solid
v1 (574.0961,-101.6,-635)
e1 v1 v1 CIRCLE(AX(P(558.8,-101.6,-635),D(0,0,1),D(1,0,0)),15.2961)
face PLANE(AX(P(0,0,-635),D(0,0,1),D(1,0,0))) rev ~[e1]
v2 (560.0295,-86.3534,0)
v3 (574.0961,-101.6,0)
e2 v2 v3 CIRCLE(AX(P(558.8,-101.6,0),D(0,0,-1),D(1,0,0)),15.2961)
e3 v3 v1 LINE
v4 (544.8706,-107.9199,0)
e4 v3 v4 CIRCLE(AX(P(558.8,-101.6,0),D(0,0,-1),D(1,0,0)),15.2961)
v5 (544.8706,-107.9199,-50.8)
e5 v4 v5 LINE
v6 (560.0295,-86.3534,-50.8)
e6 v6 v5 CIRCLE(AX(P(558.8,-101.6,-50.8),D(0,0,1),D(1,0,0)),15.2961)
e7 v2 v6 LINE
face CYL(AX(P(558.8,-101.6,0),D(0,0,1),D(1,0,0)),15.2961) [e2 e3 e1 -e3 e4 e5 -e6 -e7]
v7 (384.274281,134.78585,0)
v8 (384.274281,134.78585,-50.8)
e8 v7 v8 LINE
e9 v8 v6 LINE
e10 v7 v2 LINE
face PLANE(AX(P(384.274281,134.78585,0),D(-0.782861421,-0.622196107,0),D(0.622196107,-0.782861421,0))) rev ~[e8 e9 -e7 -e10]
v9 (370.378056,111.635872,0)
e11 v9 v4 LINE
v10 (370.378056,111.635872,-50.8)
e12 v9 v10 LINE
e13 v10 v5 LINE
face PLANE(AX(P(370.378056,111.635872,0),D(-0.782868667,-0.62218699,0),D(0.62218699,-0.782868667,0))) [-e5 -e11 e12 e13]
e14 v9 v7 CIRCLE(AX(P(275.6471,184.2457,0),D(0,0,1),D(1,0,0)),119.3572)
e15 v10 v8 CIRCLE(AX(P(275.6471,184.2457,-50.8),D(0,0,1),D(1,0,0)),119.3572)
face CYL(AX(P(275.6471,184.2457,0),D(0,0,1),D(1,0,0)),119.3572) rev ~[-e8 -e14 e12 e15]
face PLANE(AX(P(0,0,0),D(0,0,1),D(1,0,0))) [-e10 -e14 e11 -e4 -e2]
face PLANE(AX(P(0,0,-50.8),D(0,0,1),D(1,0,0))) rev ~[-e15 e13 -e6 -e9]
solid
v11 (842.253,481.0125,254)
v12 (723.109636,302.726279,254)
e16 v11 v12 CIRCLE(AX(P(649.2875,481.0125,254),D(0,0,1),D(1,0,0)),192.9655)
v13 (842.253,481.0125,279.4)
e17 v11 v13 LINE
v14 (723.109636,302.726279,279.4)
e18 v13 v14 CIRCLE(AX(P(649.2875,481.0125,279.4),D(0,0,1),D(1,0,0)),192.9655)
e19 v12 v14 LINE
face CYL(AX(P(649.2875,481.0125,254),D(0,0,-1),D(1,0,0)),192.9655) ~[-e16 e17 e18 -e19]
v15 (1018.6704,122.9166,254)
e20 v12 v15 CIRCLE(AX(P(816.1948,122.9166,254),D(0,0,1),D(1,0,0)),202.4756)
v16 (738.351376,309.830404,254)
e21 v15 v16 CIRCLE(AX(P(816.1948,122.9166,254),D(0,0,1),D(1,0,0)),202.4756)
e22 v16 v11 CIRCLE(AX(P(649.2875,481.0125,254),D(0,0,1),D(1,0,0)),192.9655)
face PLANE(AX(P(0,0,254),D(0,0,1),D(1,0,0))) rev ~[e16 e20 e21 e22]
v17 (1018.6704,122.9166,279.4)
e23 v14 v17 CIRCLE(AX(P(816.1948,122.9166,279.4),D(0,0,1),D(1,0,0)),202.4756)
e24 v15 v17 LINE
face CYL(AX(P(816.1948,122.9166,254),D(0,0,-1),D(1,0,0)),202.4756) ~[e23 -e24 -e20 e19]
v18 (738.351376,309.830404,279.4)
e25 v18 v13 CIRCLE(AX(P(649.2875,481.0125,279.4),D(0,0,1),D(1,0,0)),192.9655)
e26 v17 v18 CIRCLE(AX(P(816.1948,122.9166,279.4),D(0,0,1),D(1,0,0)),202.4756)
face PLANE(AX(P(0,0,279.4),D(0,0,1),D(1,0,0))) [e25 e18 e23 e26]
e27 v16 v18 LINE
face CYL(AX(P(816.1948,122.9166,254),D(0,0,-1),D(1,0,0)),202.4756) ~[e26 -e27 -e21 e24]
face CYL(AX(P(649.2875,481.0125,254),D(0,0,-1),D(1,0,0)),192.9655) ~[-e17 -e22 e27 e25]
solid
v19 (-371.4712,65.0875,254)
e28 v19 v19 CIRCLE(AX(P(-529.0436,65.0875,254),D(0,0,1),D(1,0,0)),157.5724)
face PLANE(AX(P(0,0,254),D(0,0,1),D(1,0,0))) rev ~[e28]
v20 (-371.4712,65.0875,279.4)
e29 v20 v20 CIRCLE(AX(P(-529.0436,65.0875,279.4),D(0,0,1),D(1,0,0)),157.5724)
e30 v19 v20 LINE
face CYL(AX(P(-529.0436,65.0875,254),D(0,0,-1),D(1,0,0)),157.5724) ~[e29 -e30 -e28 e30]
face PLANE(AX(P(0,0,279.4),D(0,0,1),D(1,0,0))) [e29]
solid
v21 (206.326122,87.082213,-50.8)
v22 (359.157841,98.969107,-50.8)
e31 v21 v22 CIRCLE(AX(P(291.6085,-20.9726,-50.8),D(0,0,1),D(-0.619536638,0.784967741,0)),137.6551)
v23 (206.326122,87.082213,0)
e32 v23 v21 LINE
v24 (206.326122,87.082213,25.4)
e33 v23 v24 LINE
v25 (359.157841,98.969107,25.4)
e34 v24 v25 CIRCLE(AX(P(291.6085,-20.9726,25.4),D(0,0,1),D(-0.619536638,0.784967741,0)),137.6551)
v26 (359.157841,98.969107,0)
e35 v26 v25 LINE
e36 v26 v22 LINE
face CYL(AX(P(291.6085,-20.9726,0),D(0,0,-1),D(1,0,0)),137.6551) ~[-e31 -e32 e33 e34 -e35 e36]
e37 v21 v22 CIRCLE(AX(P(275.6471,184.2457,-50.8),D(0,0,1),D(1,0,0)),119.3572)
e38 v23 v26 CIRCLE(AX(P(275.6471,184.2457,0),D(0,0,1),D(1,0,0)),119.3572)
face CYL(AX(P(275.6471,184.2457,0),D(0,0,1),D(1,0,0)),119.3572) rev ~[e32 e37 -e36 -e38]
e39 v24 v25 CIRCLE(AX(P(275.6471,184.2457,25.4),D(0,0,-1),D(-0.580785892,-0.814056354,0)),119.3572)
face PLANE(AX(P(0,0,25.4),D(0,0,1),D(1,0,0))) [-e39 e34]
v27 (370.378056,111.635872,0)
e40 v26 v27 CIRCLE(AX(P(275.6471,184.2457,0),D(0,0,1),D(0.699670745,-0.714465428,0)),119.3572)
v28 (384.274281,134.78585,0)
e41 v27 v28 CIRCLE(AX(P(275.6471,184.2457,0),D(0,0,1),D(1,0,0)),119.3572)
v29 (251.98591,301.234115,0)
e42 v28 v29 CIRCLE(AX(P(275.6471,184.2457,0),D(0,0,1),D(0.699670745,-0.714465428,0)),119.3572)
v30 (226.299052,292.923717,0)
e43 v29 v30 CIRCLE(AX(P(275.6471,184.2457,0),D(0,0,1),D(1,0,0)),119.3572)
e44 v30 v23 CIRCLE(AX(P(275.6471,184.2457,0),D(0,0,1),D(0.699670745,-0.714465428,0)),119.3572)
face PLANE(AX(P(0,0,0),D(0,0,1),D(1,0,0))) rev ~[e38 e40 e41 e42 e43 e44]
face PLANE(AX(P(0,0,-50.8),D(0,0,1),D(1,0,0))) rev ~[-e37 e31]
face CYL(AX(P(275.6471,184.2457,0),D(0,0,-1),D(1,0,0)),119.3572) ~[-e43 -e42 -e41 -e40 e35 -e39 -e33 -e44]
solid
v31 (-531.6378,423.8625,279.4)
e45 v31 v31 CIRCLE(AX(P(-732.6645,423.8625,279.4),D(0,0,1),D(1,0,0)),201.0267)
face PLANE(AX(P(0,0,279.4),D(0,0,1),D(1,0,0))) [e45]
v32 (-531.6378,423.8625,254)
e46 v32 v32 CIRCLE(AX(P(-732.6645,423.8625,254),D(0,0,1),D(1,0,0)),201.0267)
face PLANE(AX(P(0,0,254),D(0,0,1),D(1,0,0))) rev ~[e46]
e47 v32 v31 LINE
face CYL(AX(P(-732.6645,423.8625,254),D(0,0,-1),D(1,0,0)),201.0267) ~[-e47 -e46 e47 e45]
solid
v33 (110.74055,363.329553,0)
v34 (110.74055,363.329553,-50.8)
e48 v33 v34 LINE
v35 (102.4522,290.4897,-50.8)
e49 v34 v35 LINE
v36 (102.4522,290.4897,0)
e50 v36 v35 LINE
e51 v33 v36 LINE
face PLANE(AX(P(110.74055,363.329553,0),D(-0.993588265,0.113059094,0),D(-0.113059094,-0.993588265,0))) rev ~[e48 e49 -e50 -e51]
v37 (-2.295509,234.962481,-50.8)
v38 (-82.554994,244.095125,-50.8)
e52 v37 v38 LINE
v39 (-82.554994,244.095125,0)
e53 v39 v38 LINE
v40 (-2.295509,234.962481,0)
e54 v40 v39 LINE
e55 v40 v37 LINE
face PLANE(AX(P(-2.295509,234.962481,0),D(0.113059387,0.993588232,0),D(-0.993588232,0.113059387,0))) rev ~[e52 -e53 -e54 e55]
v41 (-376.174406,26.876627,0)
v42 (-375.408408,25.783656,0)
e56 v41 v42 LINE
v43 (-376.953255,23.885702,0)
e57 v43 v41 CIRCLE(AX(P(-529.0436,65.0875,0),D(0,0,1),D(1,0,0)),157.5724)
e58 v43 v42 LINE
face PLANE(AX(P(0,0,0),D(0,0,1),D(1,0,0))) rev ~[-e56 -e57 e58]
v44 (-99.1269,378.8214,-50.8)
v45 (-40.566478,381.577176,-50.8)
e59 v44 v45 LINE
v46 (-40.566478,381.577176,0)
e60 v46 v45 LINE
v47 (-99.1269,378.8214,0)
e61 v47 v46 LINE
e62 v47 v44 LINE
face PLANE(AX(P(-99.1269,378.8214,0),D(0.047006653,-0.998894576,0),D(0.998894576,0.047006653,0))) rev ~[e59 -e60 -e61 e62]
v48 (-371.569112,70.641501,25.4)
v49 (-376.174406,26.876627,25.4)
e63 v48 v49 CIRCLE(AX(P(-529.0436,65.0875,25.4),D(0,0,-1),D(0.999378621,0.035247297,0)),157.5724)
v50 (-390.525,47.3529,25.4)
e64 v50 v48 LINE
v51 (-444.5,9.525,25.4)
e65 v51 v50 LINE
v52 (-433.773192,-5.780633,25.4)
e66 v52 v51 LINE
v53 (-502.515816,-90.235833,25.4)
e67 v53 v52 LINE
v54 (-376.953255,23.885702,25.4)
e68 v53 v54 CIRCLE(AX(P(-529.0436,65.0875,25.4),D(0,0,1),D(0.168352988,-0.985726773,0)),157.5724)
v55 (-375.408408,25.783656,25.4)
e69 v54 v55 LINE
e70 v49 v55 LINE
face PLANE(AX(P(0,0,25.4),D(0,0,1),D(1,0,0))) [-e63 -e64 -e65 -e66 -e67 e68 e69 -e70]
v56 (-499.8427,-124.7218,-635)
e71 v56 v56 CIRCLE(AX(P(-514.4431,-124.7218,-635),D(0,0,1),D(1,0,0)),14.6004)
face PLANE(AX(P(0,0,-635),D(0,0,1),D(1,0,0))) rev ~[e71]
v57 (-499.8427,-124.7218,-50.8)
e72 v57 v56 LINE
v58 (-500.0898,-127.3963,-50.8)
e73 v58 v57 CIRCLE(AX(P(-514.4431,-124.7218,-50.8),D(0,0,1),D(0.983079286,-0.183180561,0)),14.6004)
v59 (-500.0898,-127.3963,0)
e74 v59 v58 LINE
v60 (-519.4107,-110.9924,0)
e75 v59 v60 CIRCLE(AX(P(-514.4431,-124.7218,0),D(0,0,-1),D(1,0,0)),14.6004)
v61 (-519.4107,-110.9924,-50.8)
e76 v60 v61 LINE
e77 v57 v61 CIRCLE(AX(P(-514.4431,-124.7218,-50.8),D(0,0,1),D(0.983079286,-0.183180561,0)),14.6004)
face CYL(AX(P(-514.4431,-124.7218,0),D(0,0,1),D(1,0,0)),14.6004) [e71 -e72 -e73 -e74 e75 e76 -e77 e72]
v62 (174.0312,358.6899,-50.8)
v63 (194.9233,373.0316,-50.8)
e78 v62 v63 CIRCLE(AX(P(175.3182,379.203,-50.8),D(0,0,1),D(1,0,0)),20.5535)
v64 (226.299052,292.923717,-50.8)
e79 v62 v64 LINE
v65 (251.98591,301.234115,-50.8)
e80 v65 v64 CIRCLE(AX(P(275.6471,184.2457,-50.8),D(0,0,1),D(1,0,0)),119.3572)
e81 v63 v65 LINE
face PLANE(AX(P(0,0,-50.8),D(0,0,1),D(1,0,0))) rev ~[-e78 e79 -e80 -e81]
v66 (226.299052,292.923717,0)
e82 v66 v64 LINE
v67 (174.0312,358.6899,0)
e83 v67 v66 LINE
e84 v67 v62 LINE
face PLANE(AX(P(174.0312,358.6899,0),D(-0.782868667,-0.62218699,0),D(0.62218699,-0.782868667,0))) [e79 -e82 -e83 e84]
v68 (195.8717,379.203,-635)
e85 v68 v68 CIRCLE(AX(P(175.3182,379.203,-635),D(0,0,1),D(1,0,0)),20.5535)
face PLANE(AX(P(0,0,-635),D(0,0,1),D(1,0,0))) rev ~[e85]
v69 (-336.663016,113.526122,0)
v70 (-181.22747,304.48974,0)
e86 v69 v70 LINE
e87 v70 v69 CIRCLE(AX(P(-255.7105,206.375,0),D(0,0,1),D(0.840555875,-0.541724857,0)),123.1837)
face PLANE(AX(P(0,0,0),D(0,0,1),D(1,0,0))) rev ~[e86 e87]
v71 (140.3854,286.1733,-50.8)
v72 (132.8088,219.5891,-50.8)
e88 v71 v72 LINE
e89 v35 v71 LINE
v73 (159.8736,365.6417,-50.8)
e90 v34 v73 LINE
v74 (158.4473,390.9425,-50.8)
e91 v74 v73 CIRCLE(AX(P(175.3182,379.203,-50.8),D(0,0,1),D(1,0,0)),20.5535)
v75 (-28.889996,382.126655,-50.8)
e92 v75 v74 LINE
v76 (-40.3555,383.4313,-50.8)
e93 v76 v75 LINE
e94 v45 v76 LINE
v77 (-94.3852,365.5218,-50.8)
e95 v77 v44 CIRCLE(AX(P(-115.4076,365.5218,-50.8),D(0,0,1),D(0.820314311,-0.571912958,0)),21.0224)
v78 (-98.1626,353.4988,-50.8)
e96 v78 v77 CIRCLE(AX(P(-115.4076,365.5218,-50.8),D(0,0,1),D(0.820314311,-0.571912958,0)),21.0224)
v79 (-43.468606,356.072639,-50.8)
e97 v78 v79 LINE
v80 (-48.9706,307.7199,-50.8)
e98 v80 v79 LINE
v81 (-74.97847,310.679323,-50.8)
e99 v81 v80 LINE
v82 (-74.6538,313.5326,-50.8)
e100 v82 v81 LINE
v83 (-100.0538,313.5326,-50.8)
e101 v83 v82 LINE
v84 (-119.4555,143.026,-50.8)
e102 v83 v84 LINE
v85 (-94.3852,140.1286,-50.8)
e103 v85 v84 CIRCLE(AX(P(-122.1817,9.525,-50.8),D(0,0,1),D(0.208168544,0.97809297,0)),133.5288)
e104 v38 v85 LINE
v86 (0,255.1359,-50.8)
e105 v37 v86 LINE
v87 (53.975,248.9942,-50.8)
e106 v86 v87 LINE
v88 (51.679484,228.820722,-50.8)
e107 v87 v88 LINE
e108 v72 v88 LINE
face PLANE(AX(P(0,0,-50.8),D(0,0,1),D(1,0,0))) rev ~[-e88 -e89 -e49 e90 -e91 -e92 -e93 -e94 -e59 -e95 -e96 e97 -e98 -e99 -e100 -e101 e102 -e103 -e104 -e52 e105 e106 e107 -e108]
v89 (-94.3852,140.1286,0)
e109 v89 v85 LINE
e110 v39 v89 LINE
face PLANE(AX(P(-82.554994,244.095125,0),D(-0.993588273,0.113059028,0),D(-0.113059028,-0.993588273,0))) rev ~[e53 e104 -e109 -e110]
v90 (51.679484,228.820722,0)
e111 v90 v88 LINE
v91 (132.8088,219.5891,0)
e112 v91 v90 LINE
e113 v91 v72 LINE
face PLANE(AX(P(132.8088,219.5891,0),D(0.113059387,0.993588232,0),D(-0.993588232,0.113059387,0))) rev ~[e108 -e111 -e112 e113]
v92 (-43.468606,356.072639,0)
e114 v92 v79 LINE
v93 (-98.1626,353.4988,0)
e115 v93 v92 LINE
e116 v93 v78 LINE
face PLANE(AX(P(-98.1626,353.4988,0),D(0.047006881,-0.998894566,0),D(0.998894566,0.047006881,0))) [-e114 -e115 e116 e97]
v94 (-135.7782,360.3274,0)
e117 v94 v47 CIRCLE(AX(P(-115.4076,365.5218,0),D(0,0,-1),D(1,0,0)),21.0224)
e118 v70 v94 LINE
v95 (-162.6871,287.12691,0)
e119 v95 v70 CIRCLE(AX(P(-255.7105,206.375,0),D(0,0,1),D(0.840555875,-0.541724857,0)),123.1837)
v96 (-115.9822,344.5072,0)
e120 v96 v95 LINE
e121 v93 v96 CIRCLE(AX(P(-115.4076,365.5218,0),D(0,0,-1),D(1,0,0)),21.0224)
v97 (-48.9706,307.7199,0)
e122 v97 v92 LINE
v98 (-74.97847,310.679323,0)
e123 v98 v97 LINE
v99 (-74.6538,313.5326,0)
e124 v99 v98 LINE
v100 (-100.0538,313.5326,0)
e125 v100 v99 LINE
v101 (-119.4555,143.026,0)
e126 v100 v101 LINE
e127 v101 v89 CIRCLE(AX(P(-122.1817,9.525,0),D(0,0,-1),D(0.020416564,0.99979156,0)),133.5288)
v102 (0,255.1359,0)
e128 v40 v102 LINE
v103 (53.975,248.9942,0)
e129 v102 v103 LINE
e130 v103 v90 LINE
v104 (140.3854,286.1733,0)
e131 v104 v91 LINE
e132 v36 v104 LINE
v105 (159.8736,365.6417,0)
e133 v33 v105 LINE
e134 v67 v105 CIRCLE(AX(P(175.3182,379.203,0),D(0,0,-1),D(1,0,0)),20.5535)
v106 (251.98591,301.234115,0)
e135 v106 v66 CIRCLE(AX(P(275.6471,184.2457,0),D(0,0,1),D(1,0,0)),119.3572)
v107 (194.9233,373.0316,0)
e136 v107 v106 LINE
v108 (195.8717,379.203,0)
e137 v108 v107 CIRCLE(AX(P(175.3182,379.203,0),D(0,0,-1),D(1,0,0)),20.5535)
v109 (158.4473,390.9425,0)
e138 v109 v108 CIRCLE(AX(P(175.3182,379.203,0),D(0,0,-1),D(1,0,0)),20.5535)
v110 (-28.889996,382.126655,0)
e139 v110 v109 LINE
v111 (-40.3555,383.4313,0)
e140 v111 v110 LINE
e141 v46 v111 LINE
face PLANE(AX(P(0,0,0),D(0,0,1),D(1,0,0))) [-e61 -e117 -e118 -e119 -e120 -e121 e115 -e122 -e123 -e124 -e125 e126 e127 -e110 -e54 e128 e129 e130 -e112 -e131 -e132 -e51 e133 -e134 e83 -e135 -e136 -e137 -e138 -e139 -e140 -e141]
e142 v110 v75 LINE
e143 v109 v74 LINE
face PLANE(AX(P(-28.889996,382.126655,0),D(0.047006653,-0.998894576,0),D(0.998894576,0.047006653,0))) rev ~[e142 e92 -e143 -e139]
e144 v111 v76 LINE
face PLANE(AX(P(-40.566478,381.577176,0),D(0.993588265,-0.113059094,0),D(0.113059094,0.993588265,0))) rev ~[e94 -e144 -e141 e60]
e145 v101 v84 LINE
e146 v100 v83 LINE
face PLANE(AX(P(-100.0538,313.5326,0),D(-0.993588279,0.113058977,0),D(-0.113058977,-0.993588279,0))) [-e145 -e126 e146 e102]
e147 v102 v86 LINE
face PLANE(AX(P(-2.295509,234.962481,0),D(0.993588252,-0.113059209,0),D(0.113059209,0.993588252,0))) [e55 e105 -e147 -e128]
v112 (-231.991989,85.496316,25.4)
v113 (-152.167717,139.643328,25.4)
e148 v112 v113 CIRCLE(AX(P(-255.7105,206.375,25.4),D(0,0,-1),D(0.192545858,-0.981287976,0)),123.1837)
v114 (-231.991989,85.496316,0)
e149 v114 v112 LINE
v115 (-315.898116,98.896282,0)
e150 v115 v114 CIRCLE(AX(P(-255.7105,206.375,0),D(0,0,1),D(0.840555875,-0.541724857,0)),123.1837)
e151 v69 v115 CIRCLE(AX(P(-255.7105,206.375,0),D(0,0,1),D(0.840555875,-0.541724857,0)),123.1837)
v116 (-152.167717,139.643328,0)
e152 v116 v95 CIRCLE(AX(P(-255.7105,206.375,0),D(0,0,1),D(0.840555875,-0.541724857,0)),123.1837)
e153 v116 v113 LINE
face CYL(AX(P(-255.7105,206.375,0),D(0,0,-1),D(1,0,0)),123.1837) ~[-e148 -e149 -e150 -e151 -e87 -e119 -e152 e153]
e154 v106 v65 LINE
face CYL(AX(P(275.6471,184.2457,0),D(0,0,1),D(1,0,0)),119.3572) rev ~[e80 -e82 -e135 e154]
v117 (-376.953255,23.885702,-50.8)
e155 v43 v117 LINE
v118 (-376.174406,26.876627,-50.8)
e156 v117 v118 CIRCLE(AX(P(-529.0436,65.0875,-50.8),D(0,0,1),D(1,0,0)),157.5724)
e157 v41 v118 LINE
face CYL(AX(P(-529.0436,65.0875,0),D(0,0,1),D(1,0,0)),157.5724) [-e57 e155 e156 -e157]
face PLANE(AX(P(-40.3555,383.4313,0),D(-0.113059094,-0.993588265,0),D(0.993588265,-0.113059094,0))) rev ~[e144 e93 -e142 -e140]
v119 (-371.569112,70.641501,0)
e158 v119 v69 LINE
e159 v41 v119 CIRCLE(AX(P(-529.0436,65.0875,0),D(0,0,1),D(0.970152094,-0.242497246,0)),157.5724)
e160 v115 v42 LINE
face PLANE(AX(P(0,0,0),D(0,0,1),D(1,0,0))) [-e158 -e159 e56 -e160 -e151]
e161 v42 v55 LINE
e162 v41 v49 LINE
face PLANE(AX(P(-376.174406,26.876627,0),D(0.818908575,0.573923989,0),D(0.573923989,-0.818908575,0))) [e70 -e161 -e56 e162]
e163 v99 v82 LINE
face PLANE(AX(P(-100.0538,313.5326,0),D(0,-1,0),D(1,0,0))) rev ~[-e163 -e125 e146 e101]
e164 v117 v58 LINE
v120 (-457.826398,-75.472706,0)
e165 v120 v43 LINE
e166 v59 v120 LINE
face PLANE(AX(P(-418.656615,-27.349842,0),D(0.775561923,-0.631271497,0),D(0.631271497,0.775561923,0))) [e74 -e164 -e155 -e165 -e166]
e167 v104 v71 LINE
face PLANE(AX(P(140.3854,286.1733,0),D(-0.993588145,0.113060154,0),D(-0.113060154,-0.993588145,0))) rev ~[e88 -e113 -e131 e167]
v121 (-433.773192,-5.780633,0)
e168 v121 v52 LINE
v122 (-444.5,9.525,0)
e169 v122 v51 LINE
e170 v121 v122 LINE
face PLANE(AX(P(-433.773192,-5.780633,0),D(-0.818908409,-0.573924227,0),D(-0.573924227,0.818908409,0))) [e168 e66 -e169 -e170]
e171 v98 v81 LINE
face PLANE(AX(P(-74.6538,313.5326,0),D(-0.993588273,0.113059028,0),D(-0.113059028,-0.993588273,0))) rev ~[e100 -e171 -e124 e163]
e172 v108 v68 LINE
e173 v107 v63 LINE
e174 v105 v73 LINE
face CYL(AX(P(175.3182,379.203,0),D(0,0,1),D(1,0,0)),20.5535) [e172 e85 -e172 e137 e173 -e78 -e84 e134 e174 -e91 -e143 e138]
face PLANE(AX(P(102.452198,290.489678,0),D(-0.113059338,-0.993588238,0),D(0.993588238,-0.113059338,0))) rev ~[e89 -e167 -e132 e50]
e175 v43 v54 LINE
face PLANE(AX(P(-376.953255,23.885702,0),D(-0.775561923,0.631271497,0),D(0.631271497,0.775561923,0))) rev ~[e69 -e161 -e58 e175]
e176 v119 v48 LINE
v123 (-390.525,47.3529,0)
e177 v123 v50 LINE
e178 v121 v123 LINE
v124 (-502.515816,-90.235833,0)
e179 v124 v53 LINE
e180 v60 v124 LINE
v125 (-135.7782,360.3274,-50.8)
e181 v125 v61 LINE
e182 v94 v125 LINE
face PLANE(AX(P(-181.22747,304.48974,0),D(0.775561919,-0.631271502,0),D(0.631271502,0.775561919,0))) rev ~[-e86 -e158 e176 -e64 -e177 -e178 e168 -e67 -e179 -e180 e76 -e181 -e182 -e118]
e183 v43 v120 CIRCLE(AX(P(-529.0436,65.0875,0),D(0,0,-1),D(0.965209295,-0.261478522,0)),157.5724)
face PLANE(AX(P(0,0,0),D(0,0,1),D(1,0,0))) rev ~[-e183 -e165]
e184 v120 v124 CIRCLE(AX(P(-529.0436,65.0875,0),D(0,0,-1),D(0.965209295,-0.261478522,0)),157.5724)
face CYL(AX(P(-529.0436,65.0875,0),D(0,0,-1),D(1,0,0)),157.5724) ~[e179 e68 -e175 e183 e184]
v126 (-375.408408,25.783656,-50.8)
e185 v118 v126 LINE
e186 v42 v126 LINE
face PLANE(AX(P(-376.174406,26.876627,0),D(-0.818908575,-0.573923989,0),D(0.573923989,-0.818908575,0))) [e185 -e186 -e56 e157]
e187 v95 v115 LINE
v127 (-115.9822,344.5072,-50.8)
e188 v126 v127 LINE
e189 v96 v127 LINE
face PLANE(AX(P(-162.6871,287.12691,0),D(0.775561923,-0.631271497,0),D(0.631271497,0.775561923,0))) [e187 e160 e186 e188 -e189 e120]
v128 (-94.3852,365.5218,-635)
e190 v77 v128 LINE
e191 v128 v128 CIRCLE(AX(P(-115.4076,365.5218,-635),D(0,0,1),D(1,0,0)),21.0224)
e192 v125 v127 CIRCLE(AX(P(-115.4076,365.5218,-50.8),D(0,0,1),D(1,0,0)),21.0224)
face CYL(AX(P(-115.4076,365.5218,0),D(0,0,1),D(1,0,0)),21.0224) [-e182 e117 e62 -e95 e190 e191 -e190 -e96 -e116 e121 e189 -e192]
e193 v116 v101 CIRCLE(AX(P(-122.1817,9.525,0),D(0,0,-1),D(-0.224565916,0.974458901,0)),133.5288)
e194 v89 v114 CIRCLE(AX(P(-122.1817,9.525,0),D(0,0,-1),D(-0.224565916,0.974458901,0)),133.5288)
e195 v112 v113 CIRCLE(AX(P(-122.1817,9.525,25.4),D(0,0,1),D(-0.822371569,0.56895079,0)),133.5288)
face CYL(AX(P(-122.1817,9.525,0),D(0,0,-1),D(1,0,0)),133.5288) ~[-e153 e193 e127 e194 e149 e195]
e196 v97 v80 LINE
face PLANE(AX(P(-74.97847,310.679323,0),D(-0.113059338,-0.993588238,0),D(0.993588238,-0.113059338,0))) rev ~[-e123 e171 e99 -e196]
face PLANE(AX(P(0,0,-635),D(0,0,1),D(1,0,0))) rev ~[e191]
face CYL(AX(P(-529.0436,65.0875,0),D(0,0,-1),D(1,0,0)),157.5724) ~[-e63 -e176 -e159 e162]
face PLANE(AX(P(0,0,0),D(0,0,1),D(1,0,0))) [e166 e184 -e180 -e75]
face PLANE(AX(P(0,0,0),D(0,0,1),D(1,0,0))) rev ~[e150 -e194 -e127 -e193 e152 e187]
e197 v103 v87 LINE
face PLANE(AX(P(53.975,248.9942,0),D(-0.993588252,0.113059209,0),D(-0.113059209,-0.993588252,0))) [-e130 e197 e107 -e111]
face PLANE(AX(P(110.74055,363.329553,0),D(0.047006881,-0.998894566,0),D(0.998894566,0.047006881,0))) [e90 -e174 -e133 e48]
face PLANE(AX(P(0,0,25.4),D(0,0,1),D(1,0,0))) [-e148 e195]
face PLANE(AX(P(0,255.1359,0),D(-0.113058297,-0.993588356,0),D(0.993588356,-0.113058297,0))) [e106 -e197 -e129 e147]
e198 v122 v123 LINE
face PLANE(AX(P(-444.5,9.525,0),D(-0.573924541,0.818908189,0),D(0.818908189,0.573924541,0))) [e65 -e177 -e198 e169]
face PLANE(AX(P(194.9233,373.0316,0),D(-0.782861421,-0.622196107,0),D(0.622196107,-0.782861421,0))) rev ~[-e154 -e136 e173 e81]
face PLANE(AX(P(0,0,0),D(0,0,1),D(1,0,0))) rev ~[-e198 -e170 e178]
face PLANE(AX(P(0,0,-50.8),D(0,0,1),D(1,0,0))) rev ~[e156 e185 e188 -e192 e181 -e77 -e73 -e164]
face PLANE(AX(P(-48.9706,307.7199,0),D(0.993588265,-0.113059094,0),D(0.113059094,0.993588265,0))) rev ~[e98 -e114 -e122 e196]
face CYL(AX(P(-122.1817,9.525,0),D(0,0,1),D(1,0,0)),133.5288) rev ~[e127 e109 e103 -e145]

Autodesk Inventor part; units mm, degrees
ref_plane "YZ Plane" through (0, 0, 0) normal (1, 0, 0) x (0, 1, 0)
ref_plane "XZ Plane" through (0, 0, 0) normal (0, 1, 0) x (-1, 0, 0)
sketch "Sketch1" plane through (0, 0, 0) normal (0, 0, 1) x (1, 0, 0)
  line L0 (-40.3555, 383.4313) -> (111.0673, 366.2011)
  line L1 (111.0673, 366.2011) -> (102.4522, 290.4897)
  line L2 (102.4522, 290.4897) -> (-48.9706, 307.7199)
  line L3 (-48.9706, 307.7199) -> (-40.3555, 383.4313)
  line L4 (-87.7484, 312.1324) -> (140.3854, 286.1733)
  line L5 (140.3854, 286.1733) -> (132.8088, 219.5891)
  line L6 (132.8088, 219.5891) -> (-95.3249, 245.5482)
  line L7 (-95.3249, 245.5482) -> (-87.7484, 312.1324)
  circle A0 centre (175.3182, 379.203) radius 20.5535
  circle A1 centre (-115.4076, 365.5218) radius 21.0224
  circle A2 centre (558.8, -101.6) radius 15.2961
  circle A3 centre (-514.4431, -124.7218) radius 14.6004
  line L8 (-128.6785, 349.2176) -> (-505.2263, -113.3983) construction
  line L9 (-94.4085, 366.51) -> (154.7875, 378.2368) construction
  line L10 (187.1074, 362.3667) -> (548.0677, -90.701) construction
  line L11 (-87.7484, 312.1324) -> (-107.085, 142.1977)
  circle A4 centre (-732.6645, 423.8625) radius 24.2389
  circle A5 centre (-732.6645, 423.8625) radius 201.0267
  circle A6 centre (649.2875, 481.0125) radius 192.9655
  circle A7 centre (816.1948, 122.9166) radius 202.4756
  circle A8 centre (-122.1817, 9.525) radius 133.5288
  circle A9 centre (-529.0436, 65.0875) radius 157.5724
  circle A10 centre (-255.7105, 206.375) radius 123.1837
  circle A11 centre (275.6471, 184.2457) radius 119.3572
  circle A12 centre (291.6085, -20.9726) radius 137.6551
  line L12 (-519.4107, -110.9924) -> (-135.7782, 360.3274)
  line L13 (-99.1269, 378.8214) -> (158.4473, 390.9425)
  line L14 (194.9233, 373.0316) -> (560.0295, -86.3534)
  line L15 (-500.0898, -127.3963) -> (-115.9822, 344.5072)
  line L16 (-98.1626, 353.4988) -> (159.8736, 365.6417)
  line L17 (174.0312, 358.6899) -> (544.8706, -107.9199)
  line L18 (-74.6538, 313.5326) -> (-94.3852, 140.1286)
  line L19 (-100.0538, 313.5326) -> (-119.4555, 143.026)
  line L20 (-100.0538, 313.5326) -> (-74.6538, 313.5326)
  line L21 (0, 255.1359) -> (53.975, 248.9942)
  line L22 (53.975, 248.9942) -> (36.2304, 93.0509)
  line L23 (36.2304, 93.0509) -> (-17.7446, 99.1926)
  line L24 (-17.7446, 99.1926) -> (0, 255.1359)
  line L25 (-444.5, 9.525) -> (-390.525, 47.3529)
  line L26 (-390.525, 47.3529) -> (-276.9226, -114.7417)
  line L27 (-276.9226, -114.7417) -> (-330.8976, -152.5695)
  line L28 (-330.8976, -152.5695) -> (-444.5, 9.525)
  point P0 (0, 0)
  point P1 (353.9374, 101.7631)
  point P2 (359.158, 98.9691)
  point P3 (370.3781, 111.6358)
  point P4 (-43.4686, 356.0727)
  point P5 (-74.9784, 310.6793)
  point P6 (-82.555, 244.0951)
  point P7 (-2.2955, 234.9625)
  point P8 (51.6795, 228.8208)
  point P9 (110.7406, 363.3296)
  point P10 (-28.89, 382.1267)
  point P11 (-40.5665, 381.5772)
  point P12 (-376.9531, 23.8858)
  point P13 (-376.1743, 26.8765)
  point P14 (-375.4084, 25.7836)
  point P15 (206.3261, 87.0822)
  point P16 (-231.992, 85.4963)
  point P17 (-152.1677, 139.6434)
  point P18 (-433.7732, -5.7806)
  point P19 (-502.5158, -90.2359)
  point P20 (-371.569, 70.6416)
  point P21 (384.2743, 134.7858)
  point P22 (226.299, 292.9237)
  point P23 (251.9859, 301.2341)
  dimension "d0" = 152.4
  dimension "d1" = 76.2
  dimension "d2" = 12.5196
  dimension "d3" = 12.8203
  dimension "d4" = 12.8523
  dimension "d5" = 12.3848
  dimension "d15" = 30.5921
extrude "Extrusion1" add sketch "Sketch1" against normal blind 635 contours A0 | A1 | A2 | A3
extrude "Extrusion2" add sketch "Sketch1" against normal blind 50.8 contours L0 L13 L3 | L13 A0 L16 L1 L0 | L0 L1 L16 L3 L13 | L3 L16 A1 L13 | L16 L1 L2 L3 | L2 L4 L5 L6 L22 L21 L24 L18 | A1 L15 A10 L12 | L14 A11 L17 A0 | L18 L6 L7 L4 | L4 L7 L11 A8 L19 L20 L18 | A10 L15 L12 | L18 A8 L11 L6 | A10 L15 L26 A9 L12 | L14 A2 L17 A11 | A11 A12 | A9 L26 L12 | L12 L28 L15 A9 | A9 L15 A3 L12 | L26 A9 L15 L28 L12 picked at (299.5607, -83.2426)
extrude "Extrusion3" add sketch "Sketch1" along normal blind 25.4 contours L12 A10 | A10 L15 L12 | L14 A11 L17 | A11 L14 | L17 A11 A12 | A10 A8 L15 | A12 A11 | A11 A12 | A8 A10 | A9 L26 L12 | A10 A8 | L15 A9 L26 | L12 L28 L15 A9 | L26 A9 L15 L28 L12 | L12 L28 L25 | A9 L28 L15 | L15 L28 A9
ref_plane "Work Plane1" through (0, 0, 254) normal (0, 0, 1) x (1, 0, 0)
sketch "Sketch2" plane through (0, 0, 254) normal (0, 0, 1) x (1, 0, 0)
  circle A0 centre (-732.6645, 423.8625) radius 201.0267 projected
  circle A1 centre (649.2875, 481.0125) radius 192.9655 projected
  circle A2 centre (816.1948, 122.9166) radius 202.4756 projected
  circle A3 centre (-529.0436, 65.0875) radius 157.5724 projected
  point P0 (0, 0)
extrude "Extrusion4" add sketch "Sketch2" along normal blind 25.4
properties part number "Drums"
